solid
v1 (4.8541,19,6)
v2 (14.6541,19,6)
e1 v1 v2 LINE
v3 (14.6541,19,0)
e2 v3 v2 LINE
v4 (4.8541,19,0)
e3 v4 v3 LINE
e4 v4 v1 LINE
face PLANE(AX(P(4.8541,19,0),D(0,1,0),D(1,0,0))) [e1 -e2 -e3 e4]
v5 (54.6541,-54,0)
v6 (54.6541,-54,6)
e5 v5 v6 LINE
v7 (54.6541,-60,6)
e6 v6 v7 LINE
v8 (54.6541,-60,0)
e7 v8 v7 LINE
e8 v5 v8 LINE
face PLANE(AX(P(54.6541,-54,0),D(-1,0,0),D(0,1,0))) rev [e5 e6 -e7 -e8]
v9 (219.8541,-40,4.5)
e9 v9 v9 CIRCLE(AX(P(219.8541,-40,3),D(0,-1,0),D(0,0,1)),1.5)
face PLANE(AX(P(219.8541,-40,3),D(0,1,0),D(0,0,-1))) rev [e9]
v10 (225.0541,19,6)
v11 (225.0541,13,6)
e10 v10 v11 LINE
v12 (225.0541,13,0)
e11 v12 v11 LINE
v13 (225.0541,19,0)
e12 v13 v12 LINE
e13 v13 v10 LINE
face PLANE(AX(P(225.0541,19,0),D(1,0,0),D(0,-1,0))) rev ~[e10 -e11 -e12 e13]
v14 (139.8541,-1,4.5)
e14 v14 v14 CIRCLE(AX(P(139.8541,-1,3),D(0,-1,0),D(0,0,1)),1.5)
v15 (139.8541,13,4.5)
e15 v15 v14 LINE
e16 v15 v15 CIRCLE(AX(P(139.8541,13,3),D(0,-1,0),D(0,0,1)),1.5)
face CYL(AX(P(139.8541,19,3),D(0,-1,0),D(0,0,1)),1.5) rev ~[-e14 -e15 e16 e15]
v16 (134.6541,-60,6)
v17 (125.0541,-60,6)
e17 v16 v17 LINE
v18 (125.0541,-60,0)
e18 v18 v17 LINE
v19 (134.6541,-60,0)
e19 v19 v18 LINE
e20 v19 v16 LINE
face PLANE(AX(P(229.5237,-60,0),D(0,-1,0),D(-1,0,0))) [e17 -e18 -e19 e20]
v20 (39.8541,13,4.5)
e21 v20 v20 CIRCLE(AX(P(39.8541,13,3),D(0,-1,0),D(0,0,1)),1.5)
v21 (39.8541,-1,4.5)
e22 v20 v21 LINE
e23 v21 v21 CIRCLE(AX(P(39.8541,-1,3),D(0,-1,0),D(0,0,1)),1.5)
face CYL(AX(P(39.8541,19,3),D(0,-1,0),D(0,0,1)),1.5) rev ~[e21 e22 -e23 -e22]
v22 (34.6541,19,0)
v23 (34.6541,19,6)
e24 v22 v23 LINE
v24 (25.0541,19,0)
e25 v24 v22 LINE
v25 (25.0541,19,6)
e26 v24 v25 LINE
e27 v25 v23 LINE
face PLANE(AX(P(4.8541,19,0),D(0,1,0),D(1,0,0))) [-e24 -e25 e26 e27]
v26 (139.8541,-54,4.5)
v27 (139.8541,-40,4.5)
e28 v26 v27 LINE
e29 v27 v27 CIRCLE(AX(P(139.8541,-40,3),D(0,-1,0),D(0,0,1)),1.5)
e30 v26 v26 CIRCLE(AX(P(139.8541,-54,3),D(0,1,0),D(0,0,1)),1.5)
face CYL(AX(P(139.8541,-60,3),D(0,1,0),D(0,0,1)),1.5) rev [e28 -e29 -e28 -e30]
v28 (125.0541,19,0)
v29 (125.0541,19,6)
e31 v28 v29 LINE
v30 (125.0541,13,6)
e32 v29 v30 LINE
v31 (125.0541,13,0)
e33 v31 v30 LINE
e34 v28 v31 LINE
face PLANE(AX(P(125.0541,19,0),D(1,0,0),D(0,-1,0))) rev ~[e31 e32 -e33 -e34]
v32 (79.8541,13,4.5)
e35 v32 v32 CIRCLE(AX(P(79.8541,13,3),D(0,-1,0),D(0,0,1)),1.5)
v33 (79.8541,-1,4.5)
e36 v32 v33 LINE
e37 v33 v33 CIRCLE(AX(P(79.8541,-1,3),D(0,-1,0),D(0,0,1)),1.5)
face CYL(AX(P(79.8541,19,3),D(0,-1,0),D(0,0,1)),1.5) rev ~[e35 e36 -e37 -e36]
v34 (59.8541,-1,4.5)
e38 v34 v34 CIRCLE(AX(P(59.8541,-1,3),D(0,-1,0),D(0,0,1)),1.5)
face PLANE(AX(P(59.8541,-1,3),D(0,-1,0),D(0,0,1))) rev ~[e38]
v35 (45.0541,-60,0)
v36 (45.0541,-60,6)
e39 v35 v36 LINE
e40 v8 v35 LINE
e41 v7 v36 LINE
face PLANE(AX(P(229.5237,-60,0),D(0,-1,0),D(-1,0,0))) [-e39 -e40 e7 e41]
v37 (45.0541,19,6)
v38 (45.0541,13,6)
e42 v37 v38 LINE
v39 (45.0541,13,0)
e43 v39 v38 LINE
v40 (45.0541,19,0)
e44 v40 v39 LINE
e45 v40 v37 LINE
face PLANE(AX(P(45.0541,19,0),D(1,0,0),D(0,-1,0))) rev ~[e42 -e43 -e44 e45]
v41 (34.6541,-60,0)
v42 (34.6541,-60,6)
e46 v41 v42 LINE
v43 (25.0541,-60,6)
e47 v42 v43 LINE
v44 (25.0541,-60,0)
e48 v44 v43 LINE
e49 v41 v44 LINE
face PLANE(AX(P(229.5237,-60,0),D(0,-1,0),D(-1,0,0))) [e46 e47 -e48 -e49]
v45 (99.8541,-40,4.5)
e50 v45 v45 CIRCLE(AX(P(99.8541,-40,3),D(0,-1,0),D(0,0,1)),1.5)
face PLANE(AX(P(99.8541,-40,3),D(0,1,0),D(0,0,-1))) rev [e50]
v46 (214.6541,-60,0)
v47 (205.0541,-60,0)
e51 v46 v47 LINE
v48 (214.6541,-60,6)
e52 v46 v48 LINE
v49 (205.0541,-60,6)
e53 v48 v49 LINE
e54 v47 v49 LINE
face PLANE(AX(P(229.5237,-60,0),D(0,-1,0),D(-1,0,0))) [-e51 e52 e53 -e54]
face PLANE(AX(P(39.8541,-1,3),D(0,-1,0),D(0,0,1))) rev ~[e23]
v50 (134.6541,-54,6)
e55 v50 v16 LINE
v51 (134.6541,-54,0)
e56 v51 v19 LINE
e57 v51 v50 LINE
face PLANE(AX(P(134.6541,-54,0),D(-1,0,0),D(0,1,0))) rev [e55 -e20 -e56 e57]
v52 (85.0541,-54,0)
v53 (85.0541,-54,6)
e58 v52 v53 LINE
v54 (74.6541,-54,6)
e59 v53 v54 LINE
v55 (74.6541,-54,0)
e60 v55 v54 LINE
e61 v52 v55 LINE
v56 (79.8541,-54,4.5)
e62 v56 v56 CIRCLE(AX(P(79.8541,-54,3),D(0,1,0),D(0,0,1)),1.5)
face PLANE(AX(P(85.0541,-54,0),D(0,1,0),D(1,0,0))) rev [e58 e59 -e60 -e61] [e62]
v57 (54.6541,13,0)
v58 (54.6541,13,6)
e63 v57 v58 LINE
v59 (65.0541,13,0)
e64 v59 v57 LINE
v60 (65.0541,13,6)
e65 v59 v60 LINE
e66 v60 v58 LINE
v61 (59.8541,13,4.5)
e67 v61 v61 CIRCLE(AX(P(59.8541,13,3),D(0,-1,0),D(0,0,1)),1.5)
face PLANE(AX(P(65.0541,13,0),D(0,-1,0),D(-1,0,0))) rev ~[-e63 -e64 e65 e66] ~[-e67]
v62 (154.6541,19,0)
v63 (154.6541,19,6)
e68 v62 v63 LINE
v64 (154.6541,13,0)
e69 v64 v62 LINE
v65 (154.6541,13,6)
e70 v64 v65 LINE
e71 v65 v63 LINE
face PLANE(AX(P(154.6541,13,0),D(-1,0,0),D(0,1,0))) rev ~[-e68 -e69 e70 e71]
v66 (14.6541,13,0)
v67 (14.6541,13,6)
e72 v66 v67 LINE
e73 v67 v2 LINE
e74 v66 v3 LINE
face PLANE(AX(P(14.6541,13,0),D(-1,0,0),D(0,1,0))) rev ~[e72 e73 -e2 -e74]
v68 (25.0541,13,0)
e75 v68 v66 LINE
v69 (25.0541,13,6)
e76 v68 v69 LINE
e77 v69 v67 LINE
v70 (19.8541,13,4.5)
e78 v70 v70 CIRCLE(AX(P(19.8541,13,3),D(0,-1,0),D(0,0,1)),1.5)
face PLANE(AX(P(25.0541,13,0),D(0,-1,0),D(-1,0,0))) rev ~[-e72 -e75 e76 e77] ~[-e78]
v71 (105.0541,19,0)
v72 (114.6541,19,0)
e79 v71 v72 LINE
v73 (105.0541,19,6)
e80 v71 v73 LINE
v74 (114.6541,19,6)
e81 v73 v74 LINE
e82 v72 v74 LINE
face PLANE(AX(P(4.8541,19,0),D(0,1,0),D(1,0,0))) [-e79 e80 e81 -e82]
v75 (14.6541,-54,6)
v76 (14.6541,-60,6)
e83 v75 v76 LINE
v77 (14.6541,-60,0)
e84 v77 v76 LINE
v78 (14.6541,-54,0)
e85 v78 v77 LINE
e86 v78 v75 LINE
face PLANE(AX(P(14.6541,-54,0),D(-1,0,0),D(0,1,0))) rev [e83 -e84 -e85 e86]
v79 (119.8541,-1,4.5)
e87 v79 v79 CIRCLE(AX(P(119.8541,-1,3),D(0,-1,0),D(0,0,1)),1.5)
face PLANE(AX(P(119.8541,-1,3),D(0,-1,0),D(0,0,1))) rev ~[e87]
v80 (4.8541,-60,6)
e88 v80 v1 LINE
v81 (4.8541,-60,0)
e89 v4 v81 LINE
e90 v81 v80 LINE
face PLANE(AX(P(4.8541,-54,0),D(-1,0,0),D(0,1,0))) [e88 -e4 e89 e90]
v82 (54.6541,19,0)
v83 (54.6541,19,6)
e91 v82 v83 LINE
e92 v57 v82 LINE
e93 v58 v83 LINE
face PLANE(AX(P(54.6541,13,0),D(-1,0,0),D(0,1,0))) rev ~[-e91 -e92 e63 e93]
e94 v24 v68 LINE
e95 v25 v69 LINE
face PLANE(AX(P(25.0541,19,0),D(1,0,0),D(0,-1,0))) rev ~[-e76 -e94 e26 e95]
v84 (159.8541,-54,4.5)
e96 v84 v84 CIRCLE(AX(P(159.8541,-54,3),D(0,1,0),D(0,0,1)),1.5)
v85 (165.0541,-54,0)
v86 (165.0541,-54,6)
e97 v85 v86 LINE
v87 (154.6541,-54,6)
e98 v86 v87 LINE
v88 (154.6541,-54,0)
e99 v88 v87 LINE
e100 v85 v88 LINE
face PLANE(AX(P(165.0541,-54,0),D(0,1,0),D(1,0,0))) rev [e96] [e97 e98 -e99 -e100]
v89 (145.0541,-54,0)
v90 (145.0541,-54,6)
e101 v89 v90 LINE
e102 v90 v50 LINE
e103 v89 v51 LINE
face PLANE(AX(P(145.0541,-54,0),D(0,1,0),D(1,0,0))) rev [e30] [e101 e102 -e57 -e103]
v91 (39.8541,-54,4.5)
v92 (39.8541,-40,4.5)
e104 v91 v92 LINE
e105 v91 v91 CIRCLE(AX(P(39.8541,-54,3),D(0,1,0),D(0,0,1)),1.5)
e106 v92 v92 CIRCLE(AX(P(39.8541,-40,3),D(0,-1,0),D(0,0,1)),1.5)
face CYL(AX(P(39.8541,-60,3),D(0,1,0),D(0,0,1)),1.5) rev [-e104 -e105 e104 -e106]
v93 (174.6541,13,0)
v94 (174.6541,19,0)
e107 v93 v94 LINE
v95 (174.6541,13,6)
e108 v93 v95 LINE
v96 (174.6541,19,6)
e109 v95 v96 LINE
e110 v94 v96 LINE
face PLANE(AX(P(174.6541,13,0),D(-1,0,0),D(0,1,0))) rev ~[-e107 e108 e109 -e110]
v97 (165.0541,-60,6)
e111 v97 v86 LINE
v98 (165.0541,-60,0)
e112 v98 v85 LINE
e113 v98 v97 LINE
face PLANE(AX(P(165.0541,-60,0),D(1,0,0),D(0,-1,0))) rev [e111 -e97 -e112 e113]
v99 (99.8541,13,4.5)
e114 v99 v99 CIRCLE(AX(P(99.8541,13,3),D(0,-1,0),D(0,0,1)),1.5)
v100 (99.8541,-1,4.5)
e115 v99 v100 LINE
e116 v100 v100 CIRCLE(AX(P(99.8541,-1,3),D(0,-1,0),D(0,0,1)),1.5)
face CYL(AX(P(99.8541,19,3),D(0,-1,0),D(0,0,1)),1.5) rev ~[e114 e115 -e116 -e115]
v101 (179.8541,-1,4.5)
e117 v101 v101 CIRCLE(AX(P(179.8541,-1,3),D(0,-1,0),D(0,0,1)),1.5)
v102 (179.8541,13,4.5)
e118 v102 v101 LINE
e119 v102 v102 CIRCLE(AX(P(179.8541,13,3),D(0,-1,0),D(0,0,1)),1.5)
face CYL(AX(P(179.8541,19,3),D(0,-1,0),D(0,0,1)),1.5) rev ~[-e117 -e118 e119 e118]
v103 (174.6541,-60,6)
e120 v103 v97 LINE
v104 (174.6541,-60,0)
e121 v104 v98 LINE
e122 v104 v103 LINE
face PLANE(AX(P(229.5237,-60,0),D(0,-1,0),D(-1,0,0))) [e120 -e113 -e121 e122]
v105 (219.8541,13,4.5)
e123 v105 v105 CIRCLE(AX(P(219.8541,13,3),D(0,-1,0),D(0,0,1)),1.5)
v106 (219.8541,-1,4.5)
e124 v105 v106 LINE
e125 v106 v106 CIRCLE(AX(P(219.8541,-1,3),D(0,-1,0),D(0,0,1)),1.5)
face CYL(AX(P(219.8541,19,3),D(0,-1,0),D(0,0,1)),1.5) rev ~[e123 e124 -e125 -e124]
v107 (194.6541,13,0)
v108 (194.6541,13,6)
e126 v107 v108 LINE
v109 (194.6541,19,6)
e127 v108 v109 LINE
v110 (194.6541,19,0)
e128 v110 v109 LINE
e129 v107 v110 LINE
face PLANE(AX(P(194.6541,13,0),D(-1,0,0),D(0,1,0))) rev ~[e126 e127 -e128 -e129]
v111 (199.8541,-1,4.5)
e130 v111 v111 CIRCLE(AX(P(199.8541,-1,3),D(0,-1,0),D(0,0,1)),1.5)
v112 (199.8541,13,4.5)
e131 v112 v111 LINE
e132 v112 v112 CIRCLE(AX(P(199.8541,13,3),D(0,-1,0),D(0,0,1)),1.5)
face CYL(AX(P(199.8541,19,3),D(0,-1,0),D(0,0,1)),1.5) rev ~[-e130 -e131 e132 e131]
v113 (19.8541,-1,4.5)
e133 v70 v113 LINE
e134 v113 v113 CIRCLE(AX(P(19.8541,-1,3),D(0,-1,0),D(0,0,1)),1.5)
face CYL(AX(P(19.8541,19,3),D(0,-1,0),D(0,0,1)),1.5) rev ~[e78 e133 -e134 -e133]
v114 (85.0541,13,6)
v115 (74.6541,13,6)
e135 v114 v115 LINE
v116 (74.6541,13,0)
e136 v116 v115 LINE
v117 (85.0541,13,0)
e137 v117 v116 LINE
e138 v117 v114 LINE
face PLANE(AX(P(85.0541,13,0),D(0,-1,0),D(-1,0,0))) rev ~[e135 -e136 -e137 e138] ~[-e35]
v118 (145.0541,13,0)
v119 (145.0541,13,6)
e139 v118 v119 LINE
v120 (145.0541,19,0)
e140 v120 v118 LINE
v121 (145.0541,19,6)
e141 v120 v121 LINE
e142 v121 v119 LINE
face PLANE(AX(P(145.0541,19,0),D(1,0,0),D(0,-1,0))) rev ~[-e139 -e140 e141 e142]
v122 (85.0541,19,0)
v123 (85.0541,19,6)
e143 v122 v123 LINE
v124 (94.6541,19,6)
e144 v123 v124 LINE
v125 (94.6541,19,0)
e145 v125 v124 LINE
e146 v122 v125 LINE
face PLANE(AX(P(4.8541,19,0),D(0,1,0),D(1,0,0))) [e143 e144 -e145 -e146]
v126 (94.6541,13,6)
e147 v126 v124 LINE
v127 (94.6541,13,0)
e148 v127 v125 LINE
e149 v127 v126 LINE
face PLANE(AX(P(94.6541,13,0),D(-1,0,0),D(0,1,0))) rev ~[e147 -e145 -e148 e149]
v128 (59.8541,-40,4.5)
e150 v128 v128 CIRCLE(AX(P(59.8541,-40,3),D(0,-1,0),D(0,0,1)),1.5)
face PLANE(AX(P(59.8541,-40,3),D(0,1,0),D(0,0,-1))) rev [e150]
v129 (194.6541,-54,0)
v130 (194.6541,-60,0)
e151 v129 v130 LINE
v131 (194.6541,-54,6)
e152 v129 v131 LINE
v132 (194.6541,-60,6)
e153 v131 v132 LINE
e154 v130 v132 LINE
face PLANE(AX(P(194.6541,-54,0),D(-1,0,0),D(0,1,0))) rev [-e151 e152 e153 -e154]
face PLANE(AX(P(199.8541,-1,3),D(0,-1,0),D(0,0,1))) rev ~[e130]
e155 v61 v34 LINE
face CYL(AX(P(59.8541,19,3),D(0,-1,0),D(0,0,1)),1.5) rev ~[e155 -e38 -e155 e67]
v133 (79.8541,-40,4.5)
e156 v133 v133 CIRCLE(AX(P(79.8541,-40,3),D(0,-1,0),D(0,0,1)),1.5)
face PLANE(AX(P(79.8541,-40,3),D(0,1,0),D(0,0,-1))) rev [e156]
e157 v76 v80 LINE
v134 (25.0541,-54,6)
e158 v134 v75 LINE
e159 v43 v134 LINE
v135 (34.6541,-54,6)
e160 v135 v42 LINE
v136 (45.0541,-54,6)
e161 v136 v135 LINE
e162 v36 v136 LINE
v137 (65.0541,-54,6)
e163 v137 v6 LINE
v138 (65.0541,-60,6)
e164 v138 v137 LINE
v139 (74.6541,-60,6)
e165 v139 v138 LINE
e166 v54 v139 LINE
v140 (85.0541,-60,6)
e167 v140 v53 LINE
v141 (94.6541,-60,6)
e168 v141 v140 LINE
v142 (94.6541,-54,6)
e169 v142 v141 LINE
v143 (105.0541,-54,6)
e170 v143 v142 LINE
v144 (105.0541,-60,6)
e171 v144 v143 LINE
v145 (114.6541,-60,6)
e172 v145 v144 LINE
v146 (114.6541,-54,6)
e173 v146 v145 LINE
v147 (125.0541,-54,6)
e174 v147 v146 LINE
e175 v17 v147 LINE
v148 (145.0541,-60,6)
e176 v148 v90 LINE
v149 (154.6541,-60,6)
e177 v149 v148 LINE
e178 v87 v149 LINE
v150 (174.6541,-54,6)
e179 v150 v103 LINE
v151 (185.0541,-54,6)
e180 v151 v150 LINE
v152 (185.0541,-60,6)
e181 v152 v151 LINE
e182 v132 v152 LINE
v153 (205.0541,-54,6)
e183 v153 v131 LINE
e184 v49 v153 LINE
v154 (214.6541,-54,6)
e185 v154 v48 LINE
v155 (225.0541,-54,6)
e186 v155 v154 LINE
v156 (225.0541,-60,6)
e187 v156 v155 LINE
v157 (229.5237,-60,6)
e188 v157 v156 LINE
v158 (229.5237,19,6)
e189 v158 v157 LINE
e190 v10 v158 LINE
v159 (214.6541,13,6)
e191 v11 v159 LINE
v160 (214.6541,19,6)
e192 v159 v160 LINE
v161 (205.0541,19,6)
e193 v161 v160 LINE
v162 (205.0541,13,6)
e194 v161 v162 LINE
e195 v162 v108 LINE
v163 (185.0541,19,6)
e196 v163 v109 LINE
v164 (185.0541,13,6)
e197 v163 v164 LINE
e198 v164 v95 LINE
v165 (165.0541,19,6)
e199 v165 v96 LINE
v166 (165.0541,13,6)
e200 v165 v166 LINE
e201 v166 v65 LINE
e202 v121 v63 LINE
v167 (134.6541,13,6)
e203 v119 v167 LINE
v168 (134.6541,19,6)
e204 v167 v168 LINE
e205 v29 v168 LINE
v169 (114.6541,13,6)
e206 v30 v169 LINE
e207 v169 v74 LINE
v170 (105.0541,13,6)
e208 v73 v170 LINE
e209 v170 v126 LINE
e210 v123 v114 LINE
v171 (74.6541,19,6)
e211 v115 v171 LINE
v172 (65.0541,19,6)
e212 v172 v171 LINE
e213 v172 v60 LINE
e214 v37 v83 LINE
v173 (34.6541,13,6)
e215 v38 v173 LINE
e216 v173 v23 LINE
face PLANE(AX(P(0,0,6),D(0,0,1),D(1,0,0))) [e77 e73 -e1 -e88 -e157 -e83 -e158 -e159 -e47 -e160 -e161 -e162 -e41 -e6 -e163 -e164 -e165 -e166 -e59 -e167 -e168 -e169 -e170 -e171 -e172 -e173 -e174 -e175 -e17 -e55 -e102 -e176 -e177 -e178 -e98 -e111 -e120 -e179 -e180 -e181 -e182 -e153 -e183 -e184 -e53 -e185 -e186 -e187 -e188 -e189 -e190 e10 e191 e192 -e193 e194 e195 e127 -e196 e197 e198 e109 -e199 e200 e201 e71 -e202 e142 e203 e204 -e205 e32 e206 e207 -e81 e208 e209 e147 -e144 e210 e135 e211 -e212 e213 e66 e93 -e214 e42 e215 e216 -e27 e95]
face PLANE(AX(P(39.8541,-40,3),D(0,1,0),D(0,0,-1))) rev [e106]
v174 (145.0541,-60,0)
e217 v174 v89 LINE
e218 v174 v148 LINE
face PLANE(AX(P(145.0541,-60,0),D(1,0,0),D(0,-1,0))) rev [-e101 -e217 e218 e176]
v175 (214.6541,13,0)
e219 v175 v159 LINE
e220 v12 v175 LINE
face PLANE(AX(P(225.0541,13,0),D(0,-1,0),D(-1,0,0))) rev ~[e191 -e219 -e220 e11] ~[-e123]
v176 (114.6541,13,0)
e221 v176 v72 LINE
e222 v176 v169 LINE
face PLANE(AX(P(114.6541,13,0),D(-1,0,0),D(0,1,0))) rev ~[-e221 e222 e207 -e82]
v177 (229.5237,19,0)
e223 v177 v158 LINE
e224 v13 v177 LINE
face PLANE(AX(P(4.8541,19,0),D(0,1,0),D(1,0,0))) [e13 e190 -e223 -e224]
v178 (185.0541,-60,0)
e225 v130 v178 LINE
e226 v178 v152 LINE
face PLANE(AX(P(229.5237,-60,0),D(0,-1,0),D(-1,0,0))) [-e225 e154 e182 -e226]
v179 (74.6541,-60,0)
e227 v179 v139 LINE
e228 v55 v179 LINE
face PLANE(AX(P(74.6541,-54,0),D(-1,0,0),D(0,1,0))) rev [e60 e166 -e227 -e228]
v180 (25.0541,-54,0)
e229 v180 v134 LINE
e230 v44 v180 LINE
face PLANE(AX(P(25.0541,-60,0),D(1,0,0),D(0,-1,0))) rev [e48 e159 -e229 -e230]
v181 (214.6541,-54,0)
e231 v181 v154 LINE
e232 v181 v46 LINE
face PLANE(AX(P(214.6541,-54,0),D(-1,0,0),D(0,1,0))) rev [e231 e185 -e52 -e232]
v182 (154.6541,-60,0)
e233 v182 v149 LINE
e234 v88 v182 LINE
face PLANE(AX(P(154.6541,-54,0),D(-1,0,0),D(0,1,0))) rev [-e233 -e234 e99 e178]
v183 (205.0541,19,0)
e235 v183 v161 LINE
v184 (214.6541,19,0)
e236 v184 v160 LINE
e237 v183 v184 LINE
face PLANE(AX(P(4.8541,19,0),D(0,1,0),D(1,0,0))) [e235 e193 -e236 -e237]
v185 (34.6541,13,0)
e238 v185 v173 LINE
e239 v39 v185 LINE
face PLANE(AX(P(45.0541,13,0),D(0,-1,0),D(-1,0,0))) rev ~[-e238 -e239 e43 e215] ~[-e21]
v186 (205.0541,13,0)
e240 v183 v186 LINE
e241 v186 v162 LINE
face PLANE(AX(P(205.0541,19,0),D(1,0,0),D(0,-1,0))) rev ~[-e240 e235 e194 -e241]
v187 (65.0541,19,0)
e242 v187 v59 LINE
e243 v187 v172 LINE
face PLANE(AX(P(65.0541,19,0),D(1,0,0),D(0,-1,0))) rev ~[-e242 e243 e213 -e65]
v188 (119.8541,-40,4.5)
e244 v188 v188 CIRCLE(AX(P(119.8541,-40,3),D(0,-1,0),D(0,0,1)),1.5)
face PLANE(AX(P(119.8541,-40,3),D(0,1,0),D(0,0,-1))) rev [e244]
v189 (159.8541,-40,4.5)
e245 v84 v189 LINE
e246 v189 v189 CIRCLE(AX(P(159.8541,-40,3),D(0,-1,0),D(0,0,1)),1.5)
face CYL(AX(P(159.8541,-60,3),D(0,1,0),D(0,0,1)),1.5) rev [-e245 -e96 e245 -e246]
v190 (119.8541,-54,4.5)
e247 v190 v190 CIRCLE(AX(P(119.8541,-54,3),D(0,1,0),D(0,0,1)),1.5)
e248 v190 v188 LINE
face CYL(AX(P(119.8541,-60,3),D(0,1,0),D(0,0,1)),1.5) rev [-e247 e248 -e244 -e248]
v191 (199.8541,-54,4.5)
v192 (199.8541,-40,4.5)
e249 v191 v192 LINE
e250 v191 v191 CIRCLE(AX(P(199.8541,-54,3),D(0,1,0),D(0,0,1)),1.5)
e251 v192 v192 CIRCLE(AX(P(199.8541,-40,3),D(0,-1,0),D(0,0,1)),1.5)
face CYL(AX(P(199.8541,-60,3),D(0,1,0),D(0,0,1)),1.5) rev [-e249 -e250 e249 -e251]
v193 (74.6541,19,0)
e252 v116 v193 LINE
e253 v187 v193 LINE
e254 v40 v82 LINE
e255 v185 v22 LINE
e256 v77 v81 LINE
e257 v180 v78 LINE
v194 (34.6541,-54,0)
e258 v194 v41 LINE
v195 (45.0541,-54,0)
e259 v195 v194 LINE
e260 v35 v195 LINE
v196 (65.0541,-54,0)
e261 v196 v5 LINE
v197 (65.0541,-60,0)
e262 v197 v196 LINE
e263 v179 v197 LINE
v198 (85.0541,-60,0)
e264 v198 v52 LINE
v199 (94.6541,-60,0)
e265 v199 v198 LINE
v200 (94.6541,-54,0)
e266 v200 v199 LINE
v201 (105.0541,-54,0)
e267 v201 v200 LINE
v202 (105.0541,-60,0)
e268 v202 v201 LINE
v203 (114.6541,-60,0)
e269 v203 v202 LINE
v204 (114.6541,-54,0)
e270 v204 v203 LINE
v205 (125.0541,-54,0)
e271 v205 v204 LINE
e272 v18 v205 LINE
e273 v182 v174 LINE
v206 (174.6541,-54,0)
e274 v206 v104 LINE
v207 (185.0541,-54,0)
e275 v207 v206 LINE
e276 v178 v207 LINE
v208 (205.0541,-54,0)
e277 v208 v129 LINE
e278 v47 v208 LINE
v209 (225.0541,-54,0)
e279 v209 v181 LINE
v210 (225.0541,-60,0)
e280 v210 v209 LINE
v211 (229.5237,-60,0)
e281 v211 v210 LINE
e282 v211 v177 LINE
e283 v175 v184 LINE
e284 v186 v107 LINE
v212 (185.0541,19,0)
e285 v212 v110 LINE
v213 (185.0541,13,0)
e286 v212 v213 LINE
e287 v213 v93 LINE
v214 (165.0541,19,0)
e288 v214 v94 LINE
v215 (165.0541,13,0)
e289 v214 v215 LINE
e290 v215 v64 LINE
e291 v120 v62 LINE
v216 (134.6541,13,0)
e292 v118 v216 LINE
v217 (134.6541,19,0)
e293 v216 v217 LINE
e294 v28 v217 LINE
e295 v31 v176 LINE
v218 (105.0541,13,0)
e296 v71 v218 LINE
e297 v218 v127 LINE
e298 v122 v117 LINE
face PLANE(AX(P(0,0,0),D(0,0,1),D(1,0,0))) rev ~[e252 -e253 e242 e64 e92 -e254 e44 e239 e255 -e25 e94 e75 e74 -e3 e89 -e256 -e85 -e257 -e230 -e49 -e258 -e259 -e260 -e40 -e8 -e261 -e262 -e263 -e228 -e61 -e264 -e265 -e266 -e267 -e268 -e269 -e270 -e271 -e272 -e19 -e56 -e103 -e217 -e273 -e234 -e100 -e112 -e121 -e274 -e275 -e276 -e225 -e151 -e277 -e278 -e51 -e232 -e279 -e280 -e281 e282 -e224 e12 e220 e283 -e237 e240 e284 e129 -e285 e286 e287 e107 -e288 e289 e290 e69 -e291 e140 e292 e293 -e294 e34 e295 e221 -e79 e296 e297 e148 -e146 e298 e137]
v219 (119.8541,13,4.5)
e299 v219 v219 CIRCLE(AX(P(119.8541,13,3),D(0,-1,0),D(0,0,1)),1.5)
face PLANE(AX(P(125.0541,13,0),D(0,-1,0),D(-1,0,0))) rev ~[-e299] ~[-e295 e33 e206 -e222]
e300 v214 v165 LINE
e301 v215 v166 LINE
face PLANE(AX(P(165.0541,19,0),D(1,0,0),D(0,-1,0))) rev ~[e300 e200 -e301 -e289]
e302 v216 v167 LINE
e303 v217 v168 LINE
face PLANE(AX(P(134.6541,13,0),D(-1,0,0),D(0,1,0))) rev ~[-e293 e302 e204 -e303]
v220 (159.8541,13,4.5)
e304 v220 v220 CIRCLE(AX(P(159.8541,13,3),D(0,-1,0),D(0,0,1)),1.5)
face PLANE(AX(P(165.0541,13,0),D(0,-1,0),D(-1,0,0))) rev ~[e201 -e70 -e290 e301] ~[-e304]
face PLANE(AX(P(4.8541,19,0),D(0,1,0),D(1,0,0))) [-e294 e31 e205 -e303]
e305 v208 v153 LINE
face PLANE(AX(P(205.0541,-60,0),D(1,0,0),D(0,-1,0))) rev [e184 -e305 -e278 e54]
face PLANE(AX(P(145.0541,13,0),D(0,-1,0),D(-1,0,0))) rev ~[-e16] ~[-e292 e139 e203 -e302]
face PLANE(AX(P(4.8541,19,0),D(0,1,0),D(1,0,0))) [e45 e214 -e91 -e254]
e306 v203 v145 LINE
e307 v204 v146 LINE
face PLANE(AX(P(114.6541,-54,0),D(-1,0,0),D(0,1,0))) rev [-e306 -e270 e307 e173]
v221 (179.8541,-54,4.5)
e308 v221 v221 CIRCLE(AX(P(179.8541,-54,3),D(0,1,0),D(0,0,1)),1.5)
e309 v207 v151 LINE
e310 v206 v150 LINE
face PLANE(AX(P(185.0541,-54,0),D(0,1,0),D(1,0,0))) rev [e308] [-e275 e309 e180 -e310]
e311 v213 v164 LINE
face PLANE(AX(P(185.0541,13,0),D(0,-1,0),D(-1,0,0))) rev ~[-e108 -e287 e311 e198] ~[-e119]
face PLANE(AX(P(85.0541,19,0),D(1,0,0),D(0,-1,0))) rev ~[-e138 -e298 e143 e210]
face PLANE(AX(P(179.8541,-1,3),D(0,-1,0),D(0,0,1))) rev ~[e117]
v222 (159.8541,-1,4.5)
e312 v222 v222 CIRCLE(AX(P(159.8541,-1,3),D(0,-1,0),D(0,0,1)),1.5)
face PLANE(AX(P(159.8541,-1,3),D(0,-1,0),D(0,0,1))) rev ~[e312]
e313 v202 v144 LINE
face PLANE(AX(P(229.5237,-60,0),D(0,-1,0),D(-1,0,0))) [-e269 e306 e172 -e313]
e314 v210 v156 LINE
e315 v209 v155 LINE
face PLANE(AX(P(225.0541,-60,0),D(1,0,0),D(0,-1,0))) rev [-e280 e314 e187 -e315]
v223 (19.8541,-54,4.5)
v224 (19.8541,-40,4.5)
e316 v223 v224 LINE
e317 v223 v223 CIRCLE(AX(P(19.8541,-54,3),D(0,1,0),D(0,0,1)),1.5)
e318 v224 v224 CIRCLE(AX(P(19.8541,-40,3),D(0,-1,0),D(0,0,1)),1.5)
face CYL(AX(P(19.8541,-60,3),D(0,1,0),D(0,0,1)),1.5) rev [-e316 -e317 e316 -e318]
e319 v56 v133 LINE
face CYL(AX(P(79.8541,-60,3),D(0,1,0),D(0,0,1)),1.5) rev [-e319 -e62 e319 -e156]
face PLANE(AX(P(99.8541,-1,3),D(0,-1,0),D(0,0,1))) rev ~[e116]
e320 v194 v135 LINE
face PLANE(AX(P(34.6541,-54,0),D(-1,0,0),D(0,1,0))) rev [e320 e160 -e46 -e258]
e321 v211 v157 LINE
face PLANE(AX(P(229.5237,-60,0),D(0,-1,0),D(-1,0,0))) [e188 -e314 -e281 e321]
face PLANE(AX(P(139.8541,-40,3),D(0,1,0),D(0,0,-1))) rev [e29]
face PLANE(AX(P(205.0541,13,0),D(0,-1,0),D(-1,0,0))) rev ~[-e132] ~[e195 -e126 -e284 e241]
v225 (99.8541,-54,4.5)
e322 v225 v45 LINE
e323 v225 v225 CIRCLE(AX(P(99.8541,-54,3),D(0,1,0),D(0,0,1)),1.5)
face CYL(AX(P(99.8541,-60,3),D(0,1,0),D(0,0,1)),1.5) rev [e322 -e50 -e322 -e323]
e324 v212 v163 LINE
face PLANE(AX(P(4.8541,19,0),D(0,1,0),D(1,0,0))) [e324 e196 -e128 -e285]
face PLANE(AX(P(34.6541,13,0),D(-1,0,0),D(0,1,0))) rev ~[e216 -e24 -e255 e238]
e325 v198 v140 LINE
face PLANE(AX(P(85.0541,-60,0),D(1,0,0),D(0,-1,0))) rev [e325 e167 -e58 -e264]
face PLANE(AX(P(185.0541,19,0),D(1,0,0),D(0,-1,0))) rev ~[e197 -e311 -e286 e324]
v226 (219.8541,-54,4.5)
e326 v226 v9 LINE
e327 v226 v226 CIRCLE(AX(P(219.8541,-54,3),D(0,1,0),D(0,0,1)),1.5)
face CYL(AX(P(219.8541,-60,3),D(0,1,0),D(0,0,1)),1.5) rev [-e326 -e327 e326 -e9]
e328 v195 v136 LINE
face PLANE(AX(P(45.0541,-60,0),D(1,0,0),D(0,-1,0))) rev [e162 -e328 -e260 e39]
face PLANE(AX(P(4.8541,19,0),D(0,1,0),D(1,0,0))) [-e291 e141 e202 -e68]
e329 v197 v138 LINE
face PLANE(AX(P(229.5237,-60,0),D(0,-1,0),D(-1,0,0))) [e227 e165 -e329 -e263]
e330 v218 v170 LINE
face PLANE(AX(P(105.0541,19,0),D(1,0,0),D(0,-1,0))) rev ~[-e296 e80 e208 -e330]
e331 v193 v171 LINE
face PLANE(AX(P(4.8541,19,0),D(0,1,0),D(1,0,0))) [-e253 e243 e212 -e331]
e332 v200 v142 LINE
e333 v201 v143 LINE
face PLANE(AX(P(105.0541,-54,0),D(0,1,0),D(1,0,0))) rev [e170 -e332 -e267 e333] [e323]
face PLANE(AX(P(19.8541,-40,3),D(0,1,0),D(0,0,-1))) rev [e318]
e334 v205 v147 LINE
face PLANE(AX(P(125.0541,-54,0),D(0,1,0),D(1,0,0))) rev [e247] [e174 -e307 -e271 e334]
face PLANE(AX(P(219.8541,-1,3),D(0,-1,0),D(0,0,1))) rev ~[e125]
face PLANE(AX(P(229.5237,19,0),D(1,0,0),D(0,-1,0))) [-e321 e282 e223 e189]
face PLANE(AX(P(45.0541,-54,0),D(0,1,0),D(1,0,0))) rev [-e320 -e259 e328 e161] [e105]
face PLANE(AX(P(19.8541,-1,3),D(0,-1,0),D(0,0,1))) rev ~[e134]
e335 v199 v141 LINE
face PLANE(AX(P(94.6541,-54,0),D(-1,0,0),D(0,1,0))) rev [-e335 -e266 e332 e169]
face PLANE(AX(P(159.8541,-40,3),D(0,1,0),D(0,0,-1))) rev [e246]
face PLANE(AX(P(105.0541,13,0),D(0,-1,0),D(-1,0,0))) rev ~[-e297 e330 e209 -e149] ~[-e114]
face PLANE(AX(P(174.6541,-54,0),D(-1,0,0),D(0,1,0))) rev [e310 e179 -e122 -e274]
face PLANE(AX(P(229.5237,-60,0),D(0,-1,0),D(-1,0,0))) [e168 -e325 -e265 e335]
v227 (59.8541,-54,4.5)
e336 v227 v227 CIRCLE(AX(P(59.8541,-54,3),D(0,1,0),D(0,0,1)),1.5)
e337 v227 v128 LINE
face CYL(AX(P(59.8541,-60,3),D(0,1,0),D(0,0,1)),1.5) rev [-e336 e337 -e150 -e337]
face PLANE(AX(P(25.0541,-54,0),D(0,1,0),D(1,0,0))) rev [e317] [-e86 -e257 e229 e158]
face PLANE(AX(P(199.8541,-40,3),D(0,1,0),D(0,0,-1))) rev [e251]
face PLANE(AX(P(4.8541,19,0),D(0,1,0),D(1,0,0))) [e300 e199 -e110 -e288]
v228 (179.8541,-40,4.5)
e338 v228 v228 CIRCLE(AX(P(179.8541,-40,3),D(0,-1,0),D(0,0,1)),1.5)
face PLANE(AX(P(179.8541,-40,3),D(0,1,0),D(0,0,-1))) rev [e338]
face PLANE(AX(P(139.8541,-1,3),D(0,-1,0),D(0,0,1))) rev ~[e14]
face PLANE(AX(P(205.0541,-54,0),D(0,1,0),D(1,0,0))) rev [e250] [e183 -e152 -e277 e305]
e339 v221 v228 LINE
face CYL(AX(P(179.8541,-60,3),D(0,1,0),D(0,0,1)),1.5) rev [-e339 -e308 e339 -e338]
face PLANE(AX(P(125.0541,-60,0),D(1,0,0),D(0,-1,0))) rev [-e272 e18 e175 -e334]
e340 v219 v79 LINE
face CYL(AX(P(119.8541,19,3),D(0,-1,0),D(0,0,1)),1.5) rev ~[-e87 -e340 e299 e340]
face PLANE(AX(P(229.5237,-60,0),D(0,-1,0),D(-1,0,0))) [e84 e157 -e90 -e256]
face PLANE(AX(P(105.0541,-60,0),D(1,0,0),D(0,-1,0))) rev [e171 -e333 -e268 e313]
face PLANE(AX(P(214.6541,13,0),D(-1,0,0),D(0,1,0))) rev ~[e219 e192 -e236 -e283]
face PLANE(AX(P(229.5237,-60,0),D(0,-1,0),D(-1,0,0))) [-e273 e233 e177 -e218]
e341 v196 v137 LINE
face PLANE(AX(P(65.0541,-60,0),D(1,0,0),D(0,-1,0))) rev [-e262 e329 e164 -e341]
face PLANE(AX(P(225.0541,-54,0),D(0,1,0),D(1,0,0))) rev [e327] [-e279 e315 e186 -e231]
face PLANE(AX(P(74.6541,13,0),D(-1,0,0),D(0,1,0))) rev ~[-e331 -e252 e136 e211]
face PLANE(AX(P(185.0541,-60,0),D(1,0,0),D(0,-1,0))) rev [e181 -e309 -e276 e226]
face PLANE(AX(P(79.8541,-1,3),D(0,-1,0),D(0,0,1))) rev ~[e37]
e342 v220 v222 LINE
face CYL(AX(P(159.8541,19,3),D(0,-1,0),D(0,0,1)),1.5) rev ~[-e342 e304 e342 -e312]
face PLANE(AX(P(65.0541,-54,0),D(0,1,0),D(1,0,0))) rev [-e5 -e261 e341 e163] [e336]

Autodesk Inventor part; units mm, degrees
ref_plane "YZ Plane" through (0, 0, 0) normal (1, 0, 0) x (0, 1, 0)
ref_plane "XZ Plane" through (0, 0, 0) normal (0, 1, 0) x (-1, 0, 0)
ref_plane "XY Plane" through (0, 0, 0) normal (0, 0, 1) x (1, 0, 0)
ref_plane "Arbeitsebene1" through (0, 0, 0) normal (0, 0, 1) x (1, 0, 0)
sketch "Skizze1" plane through (0, 0, 0) normal (0, 0, 1) x (1, 0, 0)
  line L0 (4.8541, 19) -> (229.5237, 19)
  line L1 (229.5237, 19) -> (229.5237, -54)
  line L2 (229.5237, -54) -> (4.8541, -54)
  line L3 (4.8541, -54) -> (4.8541, 19)
  line L4 (4.8541, -54) -> (229.5237, -54)
  line L5 (229.5237, -54) -> (229.5237, -60)
  line L6 (229.5237, -60) -> (4.8541, -60)
  line L7 (4.8541, -60) -> (4.8541, -54)
  line L8 (4.4495, 19) -> (-70.2066, 19) projected
  point P0 (450, -68)
  dimension "d0" = 6
extrude "Extrusion1" add sketch "Skizze1" along normal blind 6
sketch "Skizze2" plane through (0, 0, 0) normal (0, 0, -1) x (1, 0, 0)
  line L0 (0, -19) -> (0, 60) projected
  line L1 (14.6541, -19) -> (25.0541, -19)
  line L2 (25.0541, -19) -> (25.0541, -13)
  line L3 (25.0541, -13) -> (14.6541, -13)
  line L4 (14.6541, -13) -> (14.6541, -19)
  point P0 (0, 0)
  point P1 (4.8541, -19)
  point P2 (4.8541, 60)
  dimension "d38" = 0
  dimension "d39" = 6
extrude "Extrusion2" cut sketch "Skizze2" against normal blind 6
sketch "Skizze3" plane through (25.0541, 19, 0) normal (0, 1, 0) x (1, 0, 0)
  line L0 (204.4696, 0) -> (0, 0) projected
  line L1 (-10.4, -6) -> (0, -6) projected
  line L2 (0, 0) -> (0, -6) projected
  circle A0 centre (-5.2, -3) radius 1.5
  line L3 (-10.4, -6) -> (-10.4, 0) projected
  point P0 (-25.0541, 0)
  point P1 (4.8, 3)
  point P2 (429.8, 0)
  point P3 (429.8, -6)
  dimension "d16" = 3
  dimension "d19" = 5.2
hole "Bohrung1" at (19.8541, 19, 3) direction (0, -1, 0) diameter 3 depth 20
pattern_linear "Rechteckige Anordnung1" count 24 spacing 20 along (1, 0, 0) of "Extrusion2", "Bohrung1"
ref_plane "Arbeitsebene2" through (25.0541, -20.5, 6) normal (0, 1, 0) x (1, 0, 0)
mirror "Spiegeln1" about plane through (25.0541, -20.5, 6) normal (0, 1, 0) of "Extrusion2", "Bohrung1", "Rechteckige Anordnung1"
sketch "Skizze4" plane through (0, 5, 6) normal (0, 1, 0) x (1, 0, 0)
  line L0 (9.8356, 19.8689) -> (14.6897, 16.3421) projected
  line L1 (20.45, 24.2705) -> (14.6897, 16.3421) projected
  line L2 (15.5959, 27.7972) -> (20.45, 24.2705) projected
  line L3 (15.5959, 27.7972) -> (9.8356, 19.8689) projected
  line L4 (9.8, 0) -> (0, 0) projected
  line L5 (3, 0) -> (-2.0103, 0)
  line L6 (-2.0103, 0) -> (-2.0103, 6)
  line L7 (-2.0103, 6) -> (3, 6)
  line L8 (3, 6) -> (3, 0)
  line L9 (0, 6) -> (0, 0) projected
  line L10 (2.8165, 0) -> (2.8165, 6)
  point P0 (-2.0103, 2.2794)
  point P1 (0, 6)
  point P2 (0, 0)
  point P3 (0, 0)
  dimension "d25" = 3
extrude "Extrusion3" [suppressed]
properties part number "00_Baseplate_Simmo_side3"
